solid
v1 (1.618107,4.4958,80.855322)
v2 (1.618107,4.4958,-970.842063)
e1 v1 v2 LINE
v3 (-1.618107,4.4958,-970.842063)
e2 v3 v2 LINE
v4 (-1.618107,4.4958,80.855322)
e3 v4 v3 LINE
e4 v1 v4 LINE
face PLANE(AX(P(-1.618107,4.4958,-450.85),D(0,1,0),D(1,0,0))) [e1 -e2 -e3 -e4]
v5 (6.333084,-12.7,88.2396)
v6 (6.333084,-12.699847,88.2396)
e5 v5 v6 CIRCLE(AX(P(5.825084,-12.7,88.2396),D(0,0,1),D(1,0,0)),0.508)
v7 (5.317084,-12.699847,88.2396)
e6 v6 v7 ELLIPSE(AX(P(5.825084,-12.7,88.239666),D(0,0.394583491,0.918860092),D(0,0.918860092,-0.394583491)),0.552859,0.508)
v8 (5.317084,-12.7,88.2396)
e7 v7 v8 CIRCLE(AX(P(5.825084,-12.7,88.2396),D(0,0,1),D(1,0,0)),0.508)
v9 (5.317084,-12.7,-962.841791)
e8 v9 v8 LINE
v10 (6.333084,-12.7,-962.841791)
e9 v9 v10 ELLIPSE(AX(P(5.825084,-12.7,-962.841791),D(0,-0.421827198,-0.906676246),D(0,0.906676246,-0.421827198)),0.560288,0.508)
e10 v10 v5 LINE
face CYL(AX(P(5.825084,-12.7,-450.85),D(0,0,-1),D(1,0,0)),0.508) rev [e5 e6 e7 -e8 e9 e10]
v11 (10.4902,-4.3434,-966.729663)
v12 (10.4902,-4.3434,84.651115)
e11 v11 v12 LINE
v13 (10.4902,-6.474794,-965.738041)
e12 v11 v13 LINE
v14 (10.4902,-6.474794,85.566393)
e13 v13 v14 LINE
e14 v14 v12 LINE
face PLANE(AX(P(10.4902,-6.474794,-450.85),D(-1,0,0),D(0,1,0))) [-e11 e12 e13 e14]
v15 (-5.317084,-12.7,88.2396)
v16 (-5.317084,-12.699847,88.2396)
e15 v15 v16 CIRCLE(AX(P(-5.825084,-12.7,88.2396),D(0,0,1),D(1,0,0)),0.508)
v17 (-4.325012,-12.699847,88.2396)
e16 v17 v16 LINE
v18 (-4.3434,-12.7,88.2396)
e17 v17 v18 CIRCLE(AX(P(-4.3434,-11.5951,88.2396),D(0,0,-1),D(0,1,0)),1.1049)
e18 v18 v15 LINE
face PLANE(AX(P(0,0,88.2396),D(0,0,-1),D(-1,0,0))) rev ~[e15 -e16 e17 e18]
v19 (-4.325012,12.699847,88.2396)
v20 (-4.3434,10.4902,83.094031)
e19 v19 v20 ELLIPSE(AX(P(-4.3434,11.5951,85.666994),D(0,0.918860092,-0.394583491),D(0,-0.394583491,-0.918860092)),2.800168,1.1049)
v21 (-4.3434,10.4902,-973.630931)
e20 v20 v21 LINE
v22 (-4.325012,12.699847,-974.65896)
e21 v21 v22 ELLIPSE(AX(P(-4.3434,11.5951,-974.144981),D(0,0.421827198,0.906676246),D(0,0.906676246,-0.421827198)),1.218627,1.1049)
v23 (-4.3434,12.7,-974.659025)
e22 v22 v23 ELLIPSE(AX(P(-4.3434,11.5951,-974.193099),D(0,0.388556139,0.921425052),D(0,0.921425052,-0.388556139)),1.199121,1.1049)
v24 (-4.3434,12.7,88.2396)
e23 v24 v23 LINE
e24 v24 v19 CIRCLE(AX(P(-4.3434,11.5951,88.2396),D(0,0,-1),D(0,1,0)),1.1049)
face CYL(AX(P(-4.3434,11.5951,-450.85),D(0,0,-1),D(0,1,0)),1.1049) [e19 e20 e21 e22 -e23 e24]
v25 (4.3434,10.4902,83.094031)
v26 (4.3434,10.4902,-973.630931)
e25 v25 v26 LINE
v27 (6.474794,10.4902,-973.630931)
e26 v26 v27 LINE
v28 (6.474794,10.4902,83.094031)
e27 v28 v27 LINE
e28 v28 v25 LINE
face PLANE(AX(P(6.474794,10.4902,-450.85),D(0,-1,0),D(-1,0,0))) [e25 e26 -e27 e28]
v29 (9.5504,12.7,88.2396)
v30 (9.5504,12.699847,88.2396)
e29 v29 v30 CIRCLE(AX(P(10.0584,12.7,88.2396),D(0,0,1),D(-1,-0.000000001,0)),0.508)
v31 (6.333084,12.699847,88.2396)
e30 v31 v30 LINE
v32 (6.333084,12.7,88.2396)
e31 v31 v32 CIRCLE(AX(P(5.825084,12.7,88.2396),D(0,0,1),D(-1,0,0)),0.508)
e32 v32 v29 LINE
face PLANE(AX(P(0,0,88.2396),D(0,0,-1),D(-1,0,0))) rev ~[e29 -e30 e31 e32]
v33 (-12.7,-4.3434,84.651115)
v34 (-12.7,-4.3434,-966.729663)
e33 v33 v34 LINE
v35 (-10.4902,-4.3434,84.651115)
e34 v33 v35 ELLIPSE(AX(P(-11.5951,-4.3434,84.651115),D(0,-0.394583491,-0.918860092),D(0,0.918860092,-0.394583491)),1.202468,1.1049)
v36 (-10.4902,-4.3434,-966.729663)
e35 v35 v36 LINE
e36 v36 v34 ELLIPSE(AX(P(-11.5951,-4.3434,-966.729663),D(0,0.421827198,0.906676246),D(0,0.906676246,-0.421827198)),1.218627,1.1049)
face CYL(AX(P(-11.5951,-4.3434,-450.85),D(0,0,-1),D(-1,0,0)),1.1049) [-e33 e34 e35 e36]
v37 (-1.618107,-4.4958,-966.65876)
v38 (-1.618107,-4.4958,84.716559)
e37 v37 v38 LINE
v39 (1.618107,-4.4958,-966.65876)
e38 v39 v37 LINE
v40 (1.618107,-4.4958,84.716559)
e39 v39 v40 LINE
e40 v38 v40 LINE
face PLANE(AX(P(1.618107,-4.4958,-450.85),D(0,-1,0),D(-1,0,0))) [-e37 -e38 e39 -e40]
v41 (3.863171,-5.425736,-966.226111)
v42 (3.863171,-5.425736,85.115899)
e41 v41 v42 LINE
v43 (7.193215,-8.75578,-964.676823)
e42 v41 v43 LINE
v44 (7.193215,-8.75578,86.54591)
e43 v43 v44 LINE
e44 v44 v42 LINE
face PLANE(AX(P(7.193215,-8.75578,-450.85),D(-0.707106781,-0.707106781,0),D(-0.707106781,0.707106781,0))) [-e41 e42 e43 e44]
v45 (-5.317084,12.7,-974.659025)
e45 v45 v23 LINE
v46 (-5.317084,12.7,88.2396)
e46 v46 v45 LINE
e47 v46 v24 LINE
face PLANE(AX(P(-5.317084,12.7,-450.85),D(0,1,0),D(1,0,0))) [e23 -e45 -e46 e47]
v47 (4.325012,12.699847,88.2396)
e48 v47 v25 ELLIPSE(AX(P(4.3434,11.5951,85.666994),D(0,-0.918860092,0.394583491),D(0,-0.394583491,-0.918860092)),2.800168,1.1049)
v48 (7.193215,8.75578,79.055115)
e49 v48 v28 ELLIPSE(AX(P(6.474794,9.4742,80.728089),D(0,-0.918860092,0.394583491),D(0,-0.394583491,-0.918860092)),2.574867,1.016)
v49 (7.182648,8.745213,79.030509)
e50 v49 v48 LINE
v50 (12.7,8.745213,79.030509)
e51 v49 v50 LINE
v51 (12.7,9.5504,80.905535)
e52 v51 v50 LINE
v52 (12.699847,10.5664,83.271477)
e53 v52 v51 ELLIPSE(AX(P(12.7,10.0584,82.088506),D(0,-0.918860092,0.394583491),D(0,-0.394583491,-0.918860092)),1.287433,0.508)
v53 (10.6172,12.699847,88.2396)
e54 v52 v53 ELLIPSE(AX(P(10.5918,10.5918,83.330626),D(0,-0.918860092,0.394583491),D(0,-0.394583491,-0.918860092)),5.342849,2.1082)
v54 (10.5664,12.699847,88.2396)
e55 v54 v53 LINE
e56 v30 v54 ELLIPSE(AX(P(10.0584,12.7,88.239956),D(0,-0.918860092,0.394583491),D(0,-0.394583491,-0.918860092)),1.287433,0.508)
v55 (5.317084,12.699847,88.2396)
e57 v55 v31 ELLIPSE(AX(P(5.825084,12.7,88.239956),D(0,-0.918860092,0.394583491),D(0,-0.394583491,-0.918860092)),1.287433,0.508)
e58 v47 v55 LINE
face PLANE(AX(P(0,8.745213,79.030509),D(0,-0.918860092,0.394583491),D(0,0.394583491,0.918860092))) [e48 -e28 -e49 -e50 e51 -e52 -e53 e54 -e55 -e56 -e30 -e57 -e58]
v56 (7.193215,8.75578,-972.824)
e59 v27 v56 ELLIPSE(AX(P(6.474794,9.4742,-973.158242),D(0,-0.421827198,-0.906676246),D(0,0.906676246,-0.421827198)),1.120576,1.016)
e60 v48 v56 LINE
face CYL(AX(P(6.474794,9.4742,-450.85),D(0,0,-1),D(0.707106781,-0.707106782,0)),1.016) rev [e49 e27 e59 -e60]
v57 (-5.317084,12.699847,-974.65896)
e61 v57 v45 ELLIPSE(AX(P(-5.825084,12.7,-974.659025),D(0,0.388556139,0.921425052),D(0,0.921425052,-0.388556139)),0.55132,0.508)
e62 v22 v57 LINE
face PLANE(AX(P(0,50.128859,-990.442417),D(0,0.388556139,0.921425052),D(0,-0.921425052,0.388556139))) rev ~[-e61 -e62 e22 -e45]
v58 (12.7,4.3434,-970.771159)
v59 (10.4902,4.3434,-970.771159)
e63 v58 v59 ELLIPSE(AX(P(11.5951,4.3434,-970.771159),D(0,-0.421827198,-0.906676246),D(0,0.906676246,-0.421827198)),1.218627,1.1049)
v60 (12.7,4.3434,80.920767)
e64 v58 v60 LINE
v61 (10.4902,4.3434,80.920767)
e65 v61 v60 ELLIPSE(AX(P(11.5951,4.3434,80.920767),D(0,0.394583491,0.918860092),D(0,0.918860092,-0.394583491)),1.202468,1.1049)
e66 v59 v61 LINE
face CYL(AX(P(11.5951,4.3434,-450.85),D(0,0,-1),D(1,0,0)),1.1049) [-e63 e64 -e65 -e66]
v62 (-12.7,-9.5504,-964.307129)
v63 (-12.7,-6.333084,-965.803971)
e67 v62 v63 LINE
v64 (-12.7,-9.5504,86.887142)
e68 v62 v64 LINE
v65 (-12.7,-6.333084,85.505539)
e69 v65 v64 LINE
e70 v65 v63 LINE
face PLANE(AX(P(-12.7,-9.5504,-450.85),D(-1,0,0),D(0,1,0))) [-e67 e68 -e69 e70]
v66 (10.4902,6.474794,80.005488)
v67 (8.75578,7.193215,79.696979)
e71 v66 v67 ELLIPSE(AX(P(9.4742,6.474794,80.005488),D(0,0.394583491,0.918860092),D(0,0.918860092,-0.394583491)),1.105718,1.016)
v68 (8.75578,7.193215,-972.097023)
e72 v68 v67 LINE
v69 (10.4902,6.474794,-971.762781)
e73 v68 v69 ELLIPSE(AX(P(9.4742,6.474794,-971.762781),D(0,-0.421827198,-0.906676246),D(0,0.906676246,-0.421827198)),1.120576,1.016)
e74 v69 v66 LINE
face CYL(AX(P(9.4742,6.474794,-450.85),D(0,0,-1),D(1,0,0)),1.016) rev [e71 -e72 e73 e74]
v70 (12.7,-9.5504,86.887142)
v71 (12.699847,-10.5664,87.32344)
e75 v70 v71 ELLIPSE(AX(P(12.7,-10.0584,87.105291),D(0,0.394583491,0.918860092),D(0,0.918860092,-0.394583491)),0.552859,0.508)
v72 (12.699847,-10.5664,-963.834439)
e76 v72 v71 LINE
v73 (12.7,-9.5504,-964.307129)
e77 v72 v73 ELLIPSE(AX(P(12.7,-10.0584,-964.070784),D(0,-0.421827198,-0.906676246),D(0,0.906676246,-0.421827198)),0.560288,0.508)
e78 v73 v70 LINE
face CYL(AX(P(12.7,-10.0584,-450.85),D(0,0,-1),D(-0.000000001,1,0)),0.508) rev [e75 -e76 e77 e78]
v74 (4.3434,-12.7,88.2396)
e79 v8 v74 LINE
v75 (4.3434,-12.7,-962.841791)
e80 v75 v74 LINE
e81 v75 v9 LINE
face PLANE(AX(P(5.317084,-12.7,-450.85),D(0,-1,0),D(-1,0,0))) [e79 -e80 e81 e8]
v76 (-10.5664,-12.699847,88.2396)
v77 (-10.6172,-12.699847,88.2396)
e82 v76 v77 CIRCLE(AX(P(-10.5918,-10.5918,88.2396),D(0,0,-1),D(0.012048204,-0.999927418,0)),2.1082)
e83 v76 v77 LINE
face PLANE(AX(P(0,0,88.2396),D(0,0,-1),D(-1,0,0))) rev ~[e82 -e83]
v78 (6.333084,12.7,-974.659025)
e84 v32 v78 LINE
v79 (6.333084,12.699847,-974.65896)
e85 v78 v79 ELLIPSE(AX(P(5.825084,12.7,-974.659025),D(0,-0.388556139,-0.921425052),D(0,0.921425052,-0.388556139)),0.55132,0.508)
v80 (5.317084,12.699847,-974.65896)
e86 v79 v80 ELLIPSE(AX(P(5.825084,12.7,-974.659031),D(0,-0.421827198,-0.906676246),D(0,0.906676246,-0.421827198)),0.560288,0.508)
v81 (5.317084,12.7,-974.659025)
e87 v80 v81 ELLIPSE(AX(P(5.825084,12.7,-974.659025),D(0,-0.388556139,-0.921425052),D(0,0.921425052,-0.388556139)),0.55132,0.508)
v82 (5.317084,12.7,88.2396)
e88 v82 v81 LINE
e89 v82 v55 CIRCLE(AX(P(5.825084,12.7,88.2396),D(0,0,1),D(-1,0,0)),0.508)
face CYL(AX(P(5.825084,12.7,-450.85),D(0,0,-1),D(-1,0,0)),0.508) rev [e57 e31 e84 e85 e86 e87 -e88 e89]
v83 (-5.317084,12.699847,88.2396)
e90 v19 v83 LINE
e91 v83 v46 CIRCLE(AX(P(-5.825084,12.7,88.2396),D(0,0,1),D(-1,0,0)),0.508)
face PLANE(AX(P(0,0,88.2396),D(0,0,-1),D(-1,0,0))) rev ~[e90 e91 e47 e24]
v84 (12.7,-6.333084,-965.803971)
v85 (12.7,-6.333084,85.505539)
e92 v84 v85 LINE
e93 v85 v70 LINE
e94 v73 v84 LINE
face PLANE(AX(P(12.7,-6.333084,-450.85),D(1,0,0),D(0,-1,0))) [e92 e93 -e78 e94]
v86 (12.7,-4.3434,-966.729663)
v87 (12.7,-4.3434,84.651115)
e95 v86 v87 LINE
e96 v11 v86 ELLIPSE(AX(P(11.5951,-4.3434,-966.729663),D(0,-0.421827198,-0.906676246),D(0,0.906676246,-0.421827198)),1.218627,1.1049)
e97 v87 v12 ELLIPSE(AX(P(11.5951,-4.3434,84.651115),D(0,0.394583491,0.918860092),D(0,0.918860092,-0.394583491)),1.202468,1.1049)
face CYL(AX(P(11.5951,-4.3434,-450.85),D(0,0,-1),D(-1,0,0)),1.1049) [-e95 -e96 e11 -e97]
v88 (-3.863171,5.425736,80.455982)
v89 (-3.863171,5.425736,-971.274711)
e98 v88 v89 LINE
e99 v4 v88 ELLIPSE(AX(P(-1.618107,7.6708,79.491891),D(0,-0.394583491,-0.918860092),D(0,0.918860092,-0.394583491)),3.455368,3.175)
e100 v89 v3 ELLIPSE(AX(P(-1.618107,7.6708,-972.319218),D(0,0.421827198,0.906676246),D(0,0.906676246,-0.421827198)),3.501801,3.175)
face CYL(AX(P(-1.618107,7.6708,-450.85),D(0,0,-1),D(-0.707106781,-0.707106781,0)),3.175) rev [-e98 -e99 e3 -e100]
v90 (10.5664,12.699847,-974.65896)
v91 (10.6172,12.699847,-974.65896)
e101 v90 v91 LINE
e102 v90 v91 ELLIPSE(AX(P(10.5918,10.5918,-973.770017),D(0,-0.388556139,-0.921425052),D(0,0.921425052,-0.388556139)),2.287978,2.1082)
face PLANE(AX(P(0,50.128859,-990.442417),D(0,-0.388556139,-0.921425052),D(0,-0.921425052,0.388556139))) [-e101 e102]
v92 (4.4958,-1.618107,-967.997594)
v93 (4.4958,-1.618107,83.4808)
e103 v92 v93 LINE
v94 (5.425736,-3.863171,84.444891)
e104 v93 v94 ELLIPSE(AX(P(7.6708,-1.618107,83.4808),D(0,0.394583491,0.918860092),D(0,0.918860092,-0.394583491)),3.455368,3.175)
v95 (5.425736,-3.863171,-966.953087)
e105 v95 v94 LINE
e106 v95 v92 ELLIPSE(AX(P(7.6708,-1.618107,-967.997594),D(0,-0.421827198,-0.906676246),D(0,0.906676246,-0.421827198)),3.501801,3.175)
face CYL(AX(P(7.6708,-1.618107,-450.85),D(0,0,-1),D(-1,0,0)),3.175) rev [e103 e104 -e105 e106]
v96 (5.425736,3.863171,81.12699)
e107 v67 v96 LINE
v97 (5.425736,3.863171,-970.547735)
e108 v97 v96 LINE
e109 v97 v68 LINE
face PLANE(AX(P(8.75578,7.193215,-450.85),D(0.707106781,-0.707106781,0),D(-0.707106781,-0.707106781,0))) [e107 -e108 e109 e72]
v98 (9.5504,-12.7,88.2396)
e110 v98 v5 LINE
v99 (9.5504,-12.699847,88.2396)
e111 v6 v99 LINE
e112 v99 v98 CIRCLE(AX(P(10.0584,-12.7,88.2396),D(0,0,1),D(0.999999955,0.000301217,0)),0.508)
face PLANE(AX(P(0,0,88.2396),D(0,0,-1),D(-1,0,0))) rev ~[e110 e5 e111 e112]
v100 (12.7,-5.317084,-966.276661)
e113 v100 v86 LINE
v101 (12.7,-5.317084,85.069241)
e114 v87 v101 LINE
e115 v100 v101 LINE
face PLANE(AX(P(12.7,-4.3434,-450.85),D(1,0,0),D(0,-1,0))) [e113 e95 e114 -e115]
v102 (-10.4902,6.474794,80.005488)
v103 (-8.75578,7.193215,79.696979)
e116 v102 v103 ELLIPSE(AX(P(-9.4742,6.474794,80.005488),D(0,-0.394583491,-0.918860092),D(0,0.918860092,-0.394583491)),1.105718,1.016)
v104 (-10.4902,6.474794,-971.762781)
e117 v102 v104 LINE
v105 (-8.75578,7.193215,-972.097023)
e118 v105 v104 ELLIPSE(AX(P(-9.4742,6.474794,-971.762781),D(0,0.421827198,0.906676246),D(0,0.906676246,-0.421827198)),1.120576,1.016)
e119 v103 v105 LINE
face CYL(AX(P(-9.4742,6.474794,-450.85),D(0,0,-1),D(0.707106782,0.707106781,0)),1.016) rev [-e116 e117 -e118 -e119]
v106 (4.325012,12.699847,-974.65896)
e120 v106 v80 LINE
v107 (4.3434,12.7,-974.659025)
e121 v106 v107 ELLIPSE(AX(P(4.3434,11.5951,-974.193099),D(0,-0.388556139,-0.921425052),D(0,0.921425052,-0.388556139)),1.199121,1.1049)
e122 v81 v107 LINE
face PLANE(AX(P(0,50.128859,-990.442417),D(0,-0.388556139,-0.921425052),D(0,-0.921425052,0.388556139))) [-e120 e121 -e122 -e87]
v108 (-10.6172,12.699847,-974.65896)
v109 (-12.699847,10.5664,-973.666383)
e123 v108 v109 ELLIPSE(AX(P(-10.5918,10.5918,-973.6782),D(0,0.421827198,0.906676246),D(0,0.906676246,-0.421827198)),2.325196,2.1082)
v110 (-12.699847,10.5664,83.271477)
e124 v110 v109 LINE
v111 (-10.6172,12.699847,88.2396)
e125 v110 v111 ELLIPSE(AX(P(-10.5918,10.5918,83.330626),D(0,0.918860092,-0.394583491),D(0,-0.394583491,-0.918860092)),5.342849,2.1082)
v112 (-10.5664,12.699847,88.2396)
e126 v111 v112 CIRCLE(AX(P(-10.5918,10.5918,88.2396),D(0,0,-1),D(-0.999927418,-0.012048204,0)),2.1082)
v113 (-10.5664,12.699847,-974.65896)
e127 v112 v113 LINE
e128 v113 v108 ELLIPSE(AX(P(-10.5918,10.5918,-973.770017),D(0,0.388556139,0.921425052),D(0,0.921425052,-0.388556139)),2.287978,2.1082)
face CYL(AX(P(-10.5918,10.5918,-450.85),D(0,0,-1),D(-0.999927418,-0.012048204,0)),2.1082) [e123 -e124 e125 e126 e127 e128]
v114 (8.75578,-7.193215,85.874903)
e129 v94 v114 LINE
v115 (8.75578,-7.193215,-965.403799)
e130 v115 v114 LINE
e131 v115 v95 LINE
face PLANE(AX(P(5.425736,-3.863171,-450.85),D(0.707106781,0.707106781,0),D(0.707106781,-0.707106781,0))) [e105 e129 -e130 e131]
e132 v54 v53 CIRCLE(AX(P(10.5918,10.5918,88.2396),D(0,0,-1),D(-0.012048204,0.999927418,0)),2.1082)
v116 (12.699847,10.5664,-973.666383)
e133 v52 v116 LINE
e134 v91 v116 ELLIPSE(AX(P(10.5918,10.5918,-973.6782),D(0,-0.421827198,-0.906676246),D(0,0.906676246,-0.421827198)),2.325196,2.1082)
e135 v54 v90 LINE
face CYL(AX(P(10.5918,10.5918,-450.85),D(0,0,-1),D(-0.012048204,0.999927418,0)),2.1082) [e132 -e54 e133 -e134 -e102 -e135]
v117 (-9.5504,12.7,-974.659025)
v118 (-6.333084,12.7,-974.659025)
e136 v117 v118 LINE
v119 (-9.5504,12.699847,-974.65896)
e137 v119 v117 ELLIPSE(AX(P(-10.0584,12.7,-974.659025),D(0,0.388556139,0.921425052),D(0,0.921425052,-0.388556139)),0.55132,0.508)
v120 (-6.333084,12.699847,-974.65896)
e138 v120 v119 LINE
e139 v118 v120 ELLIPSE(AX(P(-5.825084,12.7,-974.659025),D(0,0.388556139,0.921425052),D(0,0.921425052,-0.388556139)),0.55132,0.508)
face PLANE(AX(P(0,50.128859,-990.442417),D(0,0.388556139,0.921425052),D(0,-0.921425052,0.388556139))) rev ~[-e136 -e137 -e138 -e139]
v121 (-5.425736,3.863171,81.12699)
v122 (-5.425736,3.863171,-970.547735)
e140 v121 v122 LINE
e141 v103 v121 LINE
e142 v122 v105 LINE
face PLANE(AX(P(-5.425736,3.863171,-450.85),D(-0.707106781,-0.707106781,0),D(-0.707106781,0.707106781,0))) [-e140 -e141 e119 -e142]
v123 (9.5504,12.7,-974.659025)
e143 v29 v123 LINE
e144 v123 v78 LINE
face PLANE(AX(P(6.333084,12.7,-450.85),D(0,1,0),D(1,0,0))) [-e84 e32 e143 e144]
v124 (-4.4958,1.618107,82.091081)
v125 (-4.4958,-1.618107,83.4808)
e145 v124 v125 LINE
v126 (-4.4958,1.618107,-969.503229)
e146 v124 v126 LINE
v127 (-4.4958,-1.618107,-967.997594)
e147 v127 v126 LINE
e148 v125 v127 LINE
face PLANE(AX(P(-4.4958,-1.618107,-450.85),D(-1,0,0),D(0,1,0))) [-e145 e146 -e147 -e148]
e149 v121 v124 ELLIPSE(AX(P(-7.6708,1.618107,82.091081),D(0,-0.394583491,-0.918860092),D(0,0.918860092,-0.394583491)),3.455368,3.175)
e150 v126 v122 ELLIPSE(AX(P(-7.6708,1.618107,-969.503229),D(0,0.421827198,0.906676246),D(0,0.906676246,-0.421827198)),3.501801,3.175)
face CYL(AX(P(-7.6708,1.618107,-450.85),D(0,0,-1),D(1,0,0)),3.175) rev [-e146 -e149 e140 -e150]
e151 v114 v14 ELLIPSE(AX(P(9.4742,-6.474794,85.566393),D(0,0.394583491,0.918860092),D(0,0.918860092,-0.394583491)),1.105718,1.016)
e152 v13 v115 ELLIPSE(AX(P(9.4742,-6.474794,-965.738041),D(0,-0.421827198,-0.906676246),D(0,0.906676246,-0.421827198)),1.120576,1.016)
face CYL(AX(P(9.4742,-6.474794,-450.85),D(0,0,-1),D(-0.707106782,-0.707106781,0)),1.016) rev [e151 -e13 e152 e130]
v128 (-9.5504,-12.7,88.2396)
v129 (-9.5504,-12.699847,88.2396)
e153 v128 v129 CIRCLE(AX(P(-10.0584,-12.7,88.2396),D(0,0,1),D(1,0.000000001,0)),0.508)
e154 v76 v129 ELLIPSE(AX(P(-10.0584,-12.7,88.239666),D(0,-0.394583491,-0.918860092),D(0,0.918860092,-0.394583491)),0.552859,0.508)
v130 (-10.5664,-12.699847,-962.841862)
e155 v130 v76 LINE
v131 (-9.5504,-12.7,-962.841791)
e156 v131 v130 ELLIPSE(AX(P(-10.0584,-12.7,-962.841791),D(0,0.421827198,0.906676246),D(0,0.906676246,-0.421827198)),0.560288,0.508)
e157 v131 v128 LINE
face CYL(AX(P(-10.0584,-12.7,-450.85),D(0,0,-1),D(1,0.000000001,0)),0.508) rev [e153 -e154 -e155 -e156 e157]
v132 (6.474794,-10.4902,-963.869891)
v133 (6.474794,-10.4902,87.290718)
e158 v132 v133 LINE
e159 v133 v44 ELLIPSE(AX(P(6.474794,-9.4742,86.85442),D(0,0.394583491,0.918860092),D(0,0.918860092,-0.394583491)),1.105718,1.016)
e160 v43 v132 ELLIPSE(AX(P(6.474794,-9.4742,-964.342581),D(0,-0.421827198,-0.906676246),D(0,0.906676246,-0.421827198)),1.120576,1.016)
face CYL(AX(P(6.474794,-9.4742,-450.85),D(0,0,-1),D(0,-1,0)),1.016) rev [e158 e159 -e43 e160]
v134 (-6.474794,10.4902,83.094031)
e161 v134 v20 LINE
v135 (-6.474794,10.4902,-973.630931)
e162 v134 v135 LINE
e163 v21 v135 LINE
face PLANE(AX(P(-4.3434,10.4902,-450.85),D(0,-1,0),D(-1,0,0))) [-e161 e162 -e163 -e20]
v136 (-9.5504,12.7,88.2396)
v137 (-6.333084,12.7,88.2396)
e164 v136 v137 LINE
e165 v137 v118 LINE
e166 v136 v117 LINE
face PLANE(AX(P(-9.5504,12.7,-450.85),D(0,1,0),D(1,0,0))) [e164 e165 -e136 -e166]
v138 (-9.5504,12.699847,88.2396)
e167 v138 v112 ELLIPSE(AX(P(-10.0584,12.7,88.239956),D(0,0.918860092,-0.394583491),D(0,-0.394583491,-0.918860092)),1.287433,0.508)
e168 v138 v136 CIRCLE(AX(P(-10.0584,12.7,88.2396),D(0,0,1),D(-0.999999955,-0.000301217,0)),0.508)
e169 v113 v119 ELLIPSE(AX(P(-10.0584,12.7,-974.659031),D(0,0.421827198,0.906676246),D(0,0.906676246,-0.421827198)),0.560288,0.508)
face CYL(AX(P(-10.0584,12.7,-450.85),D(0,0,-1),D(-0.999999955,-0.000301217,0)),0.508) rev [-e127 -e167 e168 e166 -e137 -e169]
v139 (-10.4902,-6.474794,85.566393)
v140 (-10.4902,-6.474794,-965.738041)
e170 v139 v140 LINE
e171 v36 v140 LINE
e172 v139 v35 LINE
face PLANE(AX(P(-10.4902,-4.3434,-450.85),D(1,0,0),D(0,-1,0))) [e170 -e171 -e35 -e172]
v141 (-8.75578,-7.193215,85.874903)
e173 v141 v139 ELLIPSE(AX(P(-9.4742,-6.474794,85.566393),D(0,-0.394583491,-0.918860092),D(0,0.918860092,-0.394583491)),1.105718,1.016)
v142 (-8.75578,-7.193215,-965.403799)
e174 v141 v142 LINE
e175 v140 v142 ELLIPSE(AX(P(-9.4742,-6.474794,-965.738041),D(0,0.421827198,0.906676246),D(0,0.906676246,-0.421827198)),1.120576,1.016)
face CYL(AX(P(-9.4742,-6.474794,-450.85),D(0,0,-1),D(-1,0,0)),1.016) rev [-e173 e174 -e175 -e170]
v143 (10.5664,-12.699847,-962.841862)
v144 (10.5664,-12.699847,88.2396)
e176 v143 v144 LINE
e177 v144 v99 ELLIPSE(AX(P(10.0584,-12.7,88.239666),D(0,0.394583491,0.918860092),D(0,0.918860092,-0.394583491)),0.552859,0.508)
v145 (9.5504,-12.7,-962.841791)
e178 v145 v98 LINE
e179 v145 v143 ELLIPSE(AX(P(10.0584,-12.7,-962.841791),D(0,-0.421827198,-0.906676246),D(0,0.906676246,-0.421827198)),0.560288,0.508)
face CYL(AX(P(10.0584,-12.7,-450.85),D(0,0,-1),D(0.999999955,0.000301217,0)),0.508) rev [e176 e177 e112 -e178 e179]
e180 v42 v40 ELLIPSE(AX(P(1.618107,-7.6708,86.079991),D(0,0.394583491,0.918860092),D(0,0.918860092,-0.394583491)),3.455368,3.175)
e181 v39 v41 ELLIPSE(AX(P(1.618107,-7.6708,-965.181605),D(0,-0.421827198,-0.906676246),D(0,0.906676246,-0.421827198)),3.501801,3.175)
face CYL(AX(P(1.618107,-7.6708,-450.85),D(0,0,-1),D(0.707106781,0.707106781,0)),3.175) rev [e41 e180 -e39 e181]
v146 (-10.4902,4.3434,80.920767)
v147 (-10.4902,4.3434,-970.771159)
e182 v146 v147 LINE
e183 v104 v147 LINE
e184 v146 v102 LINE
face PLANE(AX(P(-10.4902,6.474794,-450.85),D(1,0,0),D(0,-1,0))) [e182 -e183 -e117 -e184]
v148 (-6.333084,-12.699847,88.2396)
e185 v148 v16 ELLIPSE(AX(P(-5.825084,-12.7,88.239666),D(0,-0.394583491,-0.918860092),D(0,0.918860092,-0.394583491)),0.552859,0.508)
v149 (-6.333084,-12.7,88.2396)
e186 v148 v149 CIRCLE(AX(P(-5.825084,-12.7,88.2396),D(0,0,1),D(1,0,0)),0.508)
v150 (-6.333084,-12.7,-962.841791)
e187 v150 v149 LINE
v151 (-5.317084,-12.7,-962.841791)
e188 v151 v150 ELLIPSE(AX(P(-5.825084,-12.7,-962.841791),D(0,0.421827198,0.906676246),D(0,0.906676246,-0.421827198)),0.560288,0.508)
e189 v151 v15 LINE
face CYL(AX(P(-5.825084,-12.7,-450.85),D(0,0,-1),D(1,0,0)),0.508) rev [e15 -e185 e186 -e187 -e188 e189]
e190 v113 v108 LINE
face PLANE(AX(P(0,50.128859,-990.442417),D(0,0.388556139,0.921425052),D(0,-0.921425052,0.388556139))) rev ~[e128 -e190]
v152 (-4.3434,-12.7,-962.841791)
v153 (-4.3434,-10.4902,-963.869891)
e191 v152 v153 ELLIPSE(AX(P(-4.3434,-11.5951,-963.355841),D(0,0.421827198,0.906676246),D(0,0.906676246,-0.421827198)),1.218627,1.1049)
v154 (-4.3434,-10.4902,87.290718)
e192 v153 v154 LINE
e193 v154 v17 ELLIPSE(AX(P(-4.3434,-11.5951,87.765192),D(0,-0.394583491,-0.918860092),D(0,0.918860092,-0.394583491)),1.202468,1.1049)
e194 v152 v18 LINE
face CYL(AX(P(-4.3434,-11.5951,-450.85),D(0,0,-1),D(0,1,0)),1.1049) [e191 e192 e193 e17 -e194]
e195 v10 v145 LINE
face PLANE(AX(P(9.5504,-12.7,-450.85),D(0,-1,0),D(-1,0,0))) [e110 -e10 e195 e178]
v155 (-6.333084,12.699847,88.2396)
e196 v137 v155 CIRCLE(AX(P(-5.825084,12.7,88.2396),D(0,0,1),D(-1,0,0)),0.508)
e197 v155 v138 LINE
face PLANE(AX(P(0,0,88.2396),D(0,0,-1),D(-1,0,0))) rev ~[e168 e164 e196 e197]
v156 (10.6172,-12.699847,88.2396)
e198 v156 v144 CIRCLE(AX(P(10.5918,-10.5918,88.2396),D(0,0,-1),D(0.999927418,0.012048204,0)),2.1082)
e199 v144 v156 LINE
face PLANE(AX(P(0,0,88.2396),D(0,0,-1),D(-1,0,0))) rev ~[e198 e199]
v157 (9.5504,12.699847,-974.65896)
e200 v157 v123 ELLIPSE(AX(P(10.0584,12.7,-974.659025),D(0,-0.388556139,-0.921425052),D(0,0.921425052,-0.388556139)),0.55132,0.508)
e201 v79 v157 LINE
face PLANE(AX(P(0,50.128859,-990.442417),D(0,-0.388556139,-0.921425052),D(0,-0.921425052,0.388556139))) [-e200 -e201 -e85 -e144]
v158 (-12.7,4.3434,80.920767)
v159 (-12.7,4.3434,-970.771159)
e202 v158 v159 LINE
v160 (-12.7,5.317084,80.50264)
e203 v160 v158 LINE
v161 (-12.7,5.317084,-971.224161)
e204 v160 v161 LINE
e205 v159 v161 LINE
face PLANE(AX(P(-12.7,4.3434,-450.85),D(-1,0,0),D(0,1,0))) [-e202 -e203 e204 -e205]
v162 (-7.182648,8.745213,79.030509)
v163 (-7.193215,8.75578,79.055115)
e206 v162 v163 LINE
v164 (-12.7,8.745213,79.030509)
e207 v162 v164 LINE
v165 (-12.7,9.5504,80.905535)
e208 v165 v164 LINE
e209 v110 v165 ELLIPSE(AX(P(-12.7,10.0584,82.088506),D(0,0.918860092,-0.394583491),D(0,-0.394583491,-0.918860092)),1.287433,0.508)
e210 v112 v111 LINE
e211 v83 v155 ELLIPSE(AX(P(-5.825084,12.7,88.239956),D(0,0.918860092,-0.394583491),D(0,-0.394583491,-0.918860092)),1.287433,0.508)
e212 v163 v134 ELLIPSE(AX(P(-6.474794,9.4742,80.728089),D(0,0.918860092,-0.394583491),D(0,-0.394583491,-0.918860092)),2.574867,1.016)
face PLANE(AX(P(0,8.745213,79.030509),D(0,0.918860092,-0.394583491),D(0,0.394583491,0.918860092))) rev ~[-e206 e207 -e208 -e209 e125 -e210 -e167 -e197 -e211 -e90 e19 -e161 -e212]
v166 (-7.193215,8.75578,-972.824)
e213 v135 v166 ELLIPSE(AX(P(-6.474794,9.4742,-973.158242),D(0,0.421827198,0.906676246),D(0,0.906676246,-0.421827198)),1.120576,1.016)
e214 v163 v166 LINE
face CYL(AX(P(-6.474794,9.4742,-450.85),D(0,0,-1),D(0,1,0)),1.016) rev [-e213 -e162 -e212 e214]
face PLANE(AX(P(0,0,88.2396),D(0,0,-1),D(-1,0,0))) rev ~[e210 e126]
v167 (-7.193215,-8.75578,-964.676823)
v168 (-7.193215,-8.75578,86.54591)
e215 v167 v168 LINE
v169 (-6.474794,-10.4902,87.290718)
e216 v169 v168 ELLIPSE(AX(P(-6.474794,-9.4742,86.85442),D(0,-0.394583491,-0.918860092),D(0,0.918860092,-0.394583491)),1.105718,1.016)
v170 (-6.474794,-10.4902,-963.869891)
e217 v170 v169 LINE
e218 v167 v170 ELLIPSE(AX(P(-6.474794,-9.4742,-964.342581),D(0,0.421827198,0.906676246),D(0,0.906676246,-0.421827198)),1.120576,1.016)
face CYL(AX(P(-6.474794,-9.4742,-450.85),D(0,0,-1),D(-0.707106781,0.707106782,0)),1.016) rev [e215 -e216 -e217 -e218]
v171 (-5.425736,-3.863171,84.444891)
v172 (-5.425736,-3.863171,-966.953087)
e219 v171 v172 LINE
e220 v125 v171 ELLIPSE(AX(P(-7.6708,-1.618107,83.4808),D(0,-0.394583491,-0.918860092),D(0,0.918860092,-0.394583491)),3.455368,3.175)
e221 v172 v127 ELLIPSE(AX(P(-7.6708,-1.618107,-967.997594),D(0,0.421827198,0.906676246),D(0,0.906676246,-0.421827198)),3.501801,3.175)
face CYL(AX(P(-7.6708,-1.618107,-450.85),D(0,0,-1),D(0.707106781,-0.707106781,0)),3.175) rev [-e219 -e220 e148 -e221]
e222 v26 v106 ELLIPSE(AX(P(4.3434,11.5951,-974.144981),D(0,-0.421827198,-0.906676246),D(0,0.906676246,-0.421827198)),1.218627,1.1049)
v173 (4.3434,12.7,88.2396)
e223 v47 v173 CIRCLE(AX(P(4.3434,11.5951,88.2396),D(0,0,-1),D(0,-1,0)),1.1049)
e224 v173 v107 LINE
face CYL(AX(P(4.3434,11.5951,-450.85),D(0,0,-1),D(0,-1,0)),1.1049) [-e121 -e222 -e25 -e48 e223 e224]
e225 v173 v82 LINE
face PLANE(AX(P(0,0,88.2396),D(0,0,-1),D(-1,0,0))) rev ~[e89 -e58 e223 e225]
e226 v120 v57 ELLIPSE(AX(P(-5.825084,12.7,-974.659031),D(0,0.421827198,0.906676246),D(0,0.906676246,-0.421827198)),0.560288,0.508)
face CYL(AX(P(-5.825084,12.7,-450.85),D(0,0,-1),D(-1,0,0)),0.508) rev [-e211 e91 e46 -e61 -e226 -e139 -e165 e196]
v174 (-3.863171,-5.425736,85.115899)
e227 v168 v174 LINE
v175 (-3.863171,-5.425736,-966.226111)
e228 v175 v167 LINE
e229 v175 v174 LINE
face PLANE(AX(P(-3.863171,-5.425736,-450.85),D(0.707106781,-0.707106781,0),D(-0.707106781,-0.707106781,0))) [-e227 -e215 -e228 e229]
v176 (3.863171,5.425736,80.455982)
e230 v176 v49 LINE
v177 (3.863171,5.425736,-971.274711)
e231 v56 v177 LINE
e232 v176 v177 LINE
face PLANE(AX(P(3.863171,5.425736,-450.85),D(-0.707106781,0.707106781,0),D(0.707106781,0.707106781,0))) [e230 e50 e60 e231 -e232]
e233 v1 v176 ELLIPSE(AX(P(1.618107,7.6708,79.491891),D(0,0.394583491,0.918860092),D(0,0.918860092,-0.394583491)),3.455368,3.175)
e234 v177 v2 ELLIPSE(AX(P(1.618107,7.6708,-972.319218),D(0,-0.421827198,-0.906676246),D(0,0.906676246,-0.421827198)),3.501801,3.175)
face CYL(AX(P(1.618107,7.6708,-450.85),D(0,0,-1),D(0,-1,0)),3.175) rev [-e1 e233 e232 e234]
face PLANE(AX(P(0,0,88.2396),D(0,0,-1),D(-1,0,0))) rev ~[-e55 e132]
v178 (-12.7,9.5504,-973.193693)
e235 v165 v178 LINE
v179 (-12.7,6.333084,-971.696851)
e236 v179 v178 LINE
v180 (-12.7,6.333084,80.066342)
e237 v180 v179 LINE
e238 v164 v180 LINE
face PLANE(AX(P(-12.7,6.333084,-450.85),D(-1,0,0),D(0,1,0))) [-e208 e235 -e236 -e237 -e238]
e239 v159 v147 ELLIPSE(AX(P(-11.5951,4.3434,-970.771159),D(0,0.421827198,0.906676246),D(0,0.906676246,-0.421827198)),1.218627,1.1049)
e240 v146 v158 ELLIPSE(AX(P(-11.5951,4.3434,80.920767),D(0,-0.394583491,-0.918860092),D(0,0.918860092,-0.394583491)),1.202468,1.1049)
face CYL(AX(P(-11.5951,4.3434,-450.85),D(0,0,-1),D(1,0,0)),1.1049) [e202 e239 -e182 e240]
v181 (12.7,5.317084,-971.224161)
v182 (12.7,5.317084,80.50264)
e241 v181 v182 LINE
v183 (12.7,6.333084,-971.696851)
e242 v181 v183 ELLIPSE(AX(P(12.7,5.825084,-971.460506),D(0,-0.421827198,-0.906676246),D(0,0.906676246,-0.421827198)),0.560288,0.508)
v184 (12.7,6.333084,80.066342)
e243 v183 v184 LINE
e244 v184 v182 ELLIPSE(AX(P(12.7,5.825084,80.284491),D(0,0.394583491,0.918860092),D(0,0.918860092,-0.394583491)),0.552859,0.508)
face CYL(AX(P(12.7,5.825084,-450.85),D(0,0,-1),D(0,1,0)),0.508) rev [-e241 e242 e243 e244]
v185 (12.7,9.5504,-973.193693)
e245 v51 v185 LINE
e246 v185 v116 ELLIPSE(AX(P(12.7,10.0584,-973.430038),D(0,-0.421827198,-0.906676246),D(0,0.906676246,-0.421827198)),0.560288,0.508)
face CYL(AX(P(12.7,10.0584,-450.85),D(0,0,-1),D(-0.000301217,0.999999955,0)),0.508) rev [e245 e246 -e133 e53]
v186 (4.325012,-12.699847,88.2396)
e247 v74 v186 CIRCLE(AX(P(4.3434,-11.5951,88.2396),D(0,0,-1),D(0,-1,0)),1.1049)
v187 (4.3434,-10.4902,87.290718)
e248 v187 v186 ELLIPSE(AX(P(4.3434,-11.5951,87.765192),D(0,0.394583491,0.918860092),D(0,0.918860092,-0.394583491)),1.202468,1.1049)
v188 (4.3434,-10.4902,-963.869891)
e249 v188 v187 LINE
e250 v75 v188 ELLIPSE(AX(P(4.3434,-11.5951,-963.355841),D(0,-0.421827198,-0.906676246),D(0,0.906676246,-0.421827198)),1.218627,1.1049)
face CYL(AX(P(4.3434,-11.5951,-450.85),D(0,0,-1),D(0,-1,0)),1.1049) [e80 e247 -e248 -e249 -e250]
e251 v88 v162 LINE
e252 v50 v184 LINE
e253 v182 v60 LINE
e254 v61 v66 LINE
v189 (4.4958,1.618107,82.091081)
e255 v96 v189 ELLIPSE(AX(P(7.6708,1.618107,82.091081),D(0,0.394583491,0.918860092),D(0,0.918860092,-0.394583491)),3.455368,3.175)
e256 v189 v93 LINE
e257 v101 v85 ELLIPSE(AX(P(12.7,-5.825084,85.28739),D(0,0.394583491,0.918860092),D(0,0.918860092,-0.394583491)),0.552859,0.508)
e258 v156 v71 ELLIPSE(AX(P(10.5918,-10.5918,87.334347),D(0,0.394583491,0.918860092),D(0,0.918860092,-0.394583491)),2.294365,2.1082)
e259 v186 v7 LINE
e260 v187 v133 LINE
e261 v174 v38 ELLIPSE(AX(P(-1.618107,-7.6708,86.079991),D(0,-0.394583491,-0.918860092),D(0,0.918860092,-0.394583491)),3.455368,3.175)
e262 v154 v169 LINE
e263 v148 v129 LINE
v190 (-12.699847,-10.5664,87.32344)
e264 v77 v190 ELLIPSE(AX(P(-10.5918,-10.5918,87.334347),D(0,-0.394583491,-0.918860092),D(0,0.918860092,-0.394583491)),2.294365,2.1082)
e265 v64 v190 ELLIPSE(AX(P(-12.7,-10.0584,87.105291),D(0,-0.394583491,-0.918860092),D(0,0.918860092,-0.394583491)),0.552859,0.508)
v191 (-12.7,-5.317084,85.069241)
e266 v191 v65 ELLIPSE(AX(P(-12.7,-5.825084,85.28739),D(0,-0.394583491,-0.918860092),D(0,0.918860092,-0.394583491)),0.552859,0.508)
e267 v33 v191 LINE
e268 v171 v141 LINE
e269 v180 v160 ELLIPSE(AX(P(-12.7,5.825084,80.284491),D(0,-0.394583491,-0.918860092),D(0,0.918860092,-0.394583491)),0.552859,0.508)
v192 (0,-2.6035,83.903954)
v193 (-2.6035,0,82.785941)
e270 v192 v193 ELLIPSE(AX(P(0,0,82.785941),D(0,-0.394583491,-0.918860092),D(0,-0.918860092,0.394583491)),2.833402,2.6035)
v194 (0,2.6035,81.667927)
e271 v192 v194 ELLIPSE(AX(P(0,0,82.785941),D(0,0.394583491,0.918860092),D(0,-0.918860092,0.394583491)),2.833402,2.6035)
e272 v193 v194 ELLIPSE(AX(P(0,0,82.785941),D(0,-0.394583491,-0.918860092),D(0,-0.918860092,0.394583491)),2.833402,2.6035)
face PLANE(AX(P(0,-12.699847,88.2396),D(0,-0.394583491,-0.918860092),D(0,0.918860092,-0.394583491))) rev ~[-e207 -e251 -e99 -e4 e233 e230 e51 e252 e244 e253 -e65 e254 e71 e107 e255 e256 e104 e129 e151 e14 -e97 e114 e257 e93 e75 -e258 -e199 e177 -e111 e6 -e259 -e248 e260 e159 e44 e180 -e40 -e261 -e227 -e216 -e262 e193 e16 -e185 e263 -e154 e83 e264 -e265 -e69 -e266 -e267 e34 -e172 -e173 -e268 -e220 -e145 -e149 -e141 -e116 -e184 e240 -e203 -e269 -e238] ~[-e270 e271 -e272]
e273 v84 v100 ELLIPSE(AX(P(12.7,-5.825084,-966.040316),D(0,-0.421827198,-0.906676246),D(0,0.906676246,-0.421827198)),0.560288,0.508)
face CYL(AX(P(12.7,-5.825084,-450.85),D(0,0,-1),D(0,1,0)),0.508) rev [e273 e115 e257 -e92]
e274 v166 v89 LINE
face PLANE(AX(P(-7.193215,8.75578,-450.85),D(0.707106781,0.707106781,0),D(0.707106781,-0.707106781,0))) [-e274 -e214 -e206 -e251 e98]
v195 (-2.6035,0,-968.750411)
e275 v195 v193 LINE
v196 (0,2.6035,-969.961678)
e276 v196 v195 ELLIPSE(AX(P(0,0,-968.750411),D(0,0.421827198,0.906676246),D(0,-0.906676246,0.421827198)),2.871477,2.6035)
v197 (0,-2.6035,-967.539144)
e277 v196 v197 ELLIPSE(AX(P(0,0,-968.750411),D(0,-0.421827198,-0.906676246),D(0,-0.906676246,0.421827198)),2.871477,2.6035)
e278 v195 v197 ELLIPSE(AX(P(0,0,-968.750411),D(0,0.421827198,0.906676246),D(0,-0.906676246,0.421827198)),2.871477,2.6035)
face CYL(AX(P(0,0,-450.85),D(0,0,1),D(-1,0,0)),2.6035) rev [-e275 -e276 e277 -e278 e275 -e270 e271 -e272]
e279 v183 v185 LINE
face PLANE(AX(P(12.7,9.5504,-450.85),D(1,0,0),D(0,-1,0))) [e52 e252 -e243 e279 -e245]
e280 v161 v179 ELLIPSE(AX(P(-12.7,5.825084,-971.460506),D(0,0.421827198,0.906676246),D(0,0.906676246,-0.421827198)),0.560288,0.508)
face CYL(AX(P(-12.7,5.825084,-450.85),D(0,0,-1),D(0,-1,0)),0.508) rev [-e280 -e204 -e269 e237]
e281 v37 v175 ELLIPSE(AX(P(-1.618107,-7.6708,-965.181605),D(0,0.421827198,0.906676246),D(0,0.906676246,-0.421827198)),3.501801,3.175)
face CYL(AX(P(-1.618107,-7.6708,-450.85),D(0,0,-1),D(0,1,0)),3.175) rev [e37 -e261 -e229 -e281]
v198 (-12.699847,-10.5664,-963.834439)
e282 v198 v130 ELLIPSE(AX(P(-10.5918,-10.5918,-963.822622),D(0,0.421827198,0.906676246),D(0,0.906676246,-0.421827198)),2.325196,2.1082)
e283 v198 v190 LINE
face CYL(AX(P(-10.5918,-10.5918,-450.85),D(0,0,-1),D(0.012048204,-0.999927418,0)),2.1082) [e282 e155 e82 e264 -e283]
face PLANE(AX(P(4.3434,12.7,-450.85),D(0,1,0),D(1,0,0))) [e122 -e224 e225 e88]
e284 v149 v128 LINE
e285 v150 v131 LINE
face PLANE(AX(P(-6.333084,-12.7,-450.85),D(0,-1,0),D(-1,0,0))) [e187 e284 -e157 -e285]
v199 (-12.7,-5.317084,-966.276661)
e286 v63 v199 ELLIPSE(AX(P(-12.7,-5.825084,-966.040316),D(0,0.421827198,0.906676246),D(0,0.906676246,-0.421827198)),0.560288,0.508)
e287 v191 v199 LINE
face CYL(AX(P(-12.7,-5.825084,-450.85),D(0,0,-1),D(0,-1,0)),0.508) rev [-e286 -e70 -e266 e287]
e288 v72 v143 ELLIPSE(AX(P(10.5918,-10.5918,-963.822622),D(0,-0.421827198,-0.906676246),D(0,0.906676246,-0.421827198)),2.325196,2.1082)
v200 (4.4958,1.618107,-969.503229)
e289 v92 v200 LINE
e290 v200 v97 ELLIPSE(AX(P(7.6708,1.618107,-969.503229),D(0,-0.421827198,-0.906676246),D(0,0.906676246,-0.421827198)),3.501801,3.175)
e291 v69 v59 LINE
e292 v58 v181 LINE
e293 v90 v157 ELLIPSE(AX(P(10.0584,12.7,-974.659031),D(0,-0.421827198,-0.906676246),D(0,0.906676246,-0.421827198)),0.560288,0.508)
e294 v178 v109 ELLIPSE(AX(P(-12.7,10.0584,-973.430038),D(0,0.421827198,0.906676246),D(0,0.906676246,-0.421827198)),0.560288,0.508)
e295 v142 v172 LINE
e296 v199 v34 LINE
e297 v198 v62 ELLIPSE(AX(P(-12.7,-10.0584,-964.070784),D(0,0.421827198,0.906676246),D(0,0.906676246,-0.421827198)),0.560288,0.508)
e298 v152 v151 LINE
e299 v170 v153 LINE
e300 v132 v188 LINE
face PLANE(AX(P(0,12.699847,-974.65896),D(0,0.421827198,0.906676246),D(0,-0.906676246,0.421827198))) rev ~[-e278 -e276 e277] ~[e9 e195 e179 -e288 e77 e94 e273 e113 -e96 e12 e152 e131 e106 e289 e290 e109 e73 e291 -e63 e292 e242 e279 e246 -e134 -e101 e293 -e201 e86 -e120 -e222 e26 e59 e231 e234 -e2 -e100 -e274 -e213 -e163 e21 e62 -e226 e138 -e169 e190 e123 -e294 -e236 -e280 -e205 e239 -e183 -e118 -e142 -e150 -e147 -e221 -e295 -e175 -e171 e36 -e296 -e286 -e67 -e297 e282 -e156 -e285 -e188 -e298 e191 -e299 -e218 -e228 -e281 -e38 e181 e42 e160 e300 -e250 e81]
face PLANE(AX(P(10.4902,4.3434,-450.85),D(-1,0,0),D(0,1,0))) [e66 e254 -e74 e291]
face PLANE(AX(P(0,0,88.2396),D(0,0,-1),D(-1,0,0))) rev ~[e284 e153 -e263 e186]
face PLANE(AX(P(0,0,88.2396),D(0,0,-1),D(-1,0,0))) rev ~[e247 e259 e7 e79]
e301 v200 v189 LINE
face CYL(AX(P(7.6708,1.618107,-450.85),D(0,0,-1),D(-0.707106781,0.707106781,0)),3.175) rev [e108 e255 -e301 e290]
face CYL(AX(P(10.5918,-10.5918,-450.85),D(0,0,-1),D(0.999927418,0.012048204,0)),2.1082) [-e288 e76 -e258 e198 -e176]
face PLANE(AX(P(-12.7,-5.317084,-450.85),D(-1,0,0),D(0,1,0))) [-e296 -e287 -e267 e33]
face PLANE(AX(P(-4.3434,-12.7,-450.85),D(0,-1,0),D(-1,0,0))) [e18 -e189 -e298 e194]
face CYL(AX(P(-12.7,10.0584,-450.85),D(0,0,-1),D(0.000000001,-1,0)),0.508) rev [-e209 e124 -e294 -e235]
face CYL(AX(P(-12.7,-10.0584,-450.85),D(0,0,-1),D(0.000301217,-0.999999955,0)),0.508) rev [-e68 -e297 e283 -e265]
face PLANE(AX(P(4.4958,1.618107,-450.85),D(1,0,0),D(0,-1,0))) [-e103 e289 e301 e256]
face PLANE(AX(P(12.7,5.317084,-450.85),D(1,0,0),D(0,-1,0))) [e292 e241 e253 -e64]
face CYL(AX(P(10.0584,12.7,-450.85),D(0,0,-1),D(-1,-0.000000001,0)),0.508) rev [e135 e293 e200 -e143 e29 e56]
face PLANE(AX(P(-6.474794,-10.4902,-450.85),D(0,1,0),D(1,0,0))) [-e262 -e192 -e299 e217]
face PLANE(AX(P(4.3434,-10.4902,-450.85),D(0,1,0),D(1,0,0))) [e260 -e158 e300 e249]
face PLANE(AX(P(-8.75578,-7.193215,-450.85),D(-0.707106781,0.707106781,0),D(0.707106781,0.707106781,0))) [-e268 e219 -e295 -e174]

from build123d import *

# Parameters (mm, degrees)
SKETCH1_R               = 2.6035
BOSS_EXTRUDE1_DEPTH     = 539.0896
CUT_EXTRUDE2_DEPTH      = 13.7
CUT_EXTRUDE2_DEPTH_BACK = 13.7


with BuildPart() as part:
    # Sketch1 → Boss-Extrude1 (new body, symmetric)
    with BuildSketch(Plane(origin=(0, 0, -450.85), x_dir=(-1, 0, 0), z_dir=(0, 0, -1))):
        with BuildLine():
            Line((12.7, -9.5504), (12.7, -6.3330836))
            ThreePointArc((12.7, -6.3330836), (12.192, -5.8250836), (12.7, -5.3170836))
            Line((12.7, -5.3170836), (12.7, -4.3434))
            ThreePointArc((12.7, -4.3434), (11.5951, -3.2385), (10.4902, -4.3434))
            Line((10.4902, -4.3434), (10.4902, -6.474794456))
            ThreePointArc((10.4902, -6.474794456), (9.863006367, -7.413456061), (8.75577951, -7.193214945))
            Line((8.75577951, -7.193214945), (5.42573597, -3.863171405))
            ThreePointArc((5.42573597, -3.863171405), (4.737482484, -2.833127272), (4.4958, -1.618107374))
            Line((4.4958, -1.618107374), (4.4958, 1.618107374))
            ThreePointArc((4.4958, 1.618107374), (4.737482484, 2.833127272), (5.42573597, 3.863171405))
            Line((5.42573597, 3.863171405), (8.75577951, 7.193214945))
            ThreePointArc((8.75577951, 7.193214945), (9.863006367, 7.413456061), (10.4902, 6.474794456))
            Line((10.4902, 6.474794456), (10.4902, 4.343399971))
            ThreePointArc((10.4902, 4.343399971), (11.5951, 3.238499971), (12.7, 4.343399971))
            Line((12.7, 4.343399971), (12.7, 5.3170836))
            ThreePointArc((12.7, 5.3170836), (12.192, 5.8250836), (12.7, 6.3330836))
            Line((12.7, 6.3330836), (12.7, 9.5504))
            ThreePointArc((12.7, 9.5504), (12.192000006, 10.058323491), (12.699846982, 10.566399977))
            ThreePointArc((12.699846982, 10.566399977), (12.082522516, 12.082522516), (10.566399977, 12.699846982))
            ThreePointArc((10.566399977, 12.699846982), (10.058323491, 12.192000006), (9.5504, 12.7))
            Line((9.5504, 12.7), (6.3330836, 12.7))
            ThreePointArc((6.3330836, 12.7), (5.8250836, 12.192), (5.3170836, 12.7))
            Line((5.3170836, 12.7), (4.3434, 12.7))
            ThreePointArc((4.3434, 12.7), (3.2385, 11.5951), (4.3434, 10.4902))
            Line((4.3434, 10.4902), (6.474794456, 10.4902))
            ThreePointArc((6.474794456, 10.4902), (7.413456061, 9.863006367), (7.193214945, 8.75577951))
            Line((7.193214945, 8.75577951), (3.863171405, 5.42573597))
            ThreePointArc((3.863171405, 5.42573597), (2.833127272, 4.737482484), (1.618107374, 4.4958))
            Line((1.618107374, 4.4958), (-1.618107374, 4.4958))
            ThreePointArc((-1.618107374, 4.4958), (-2.833127272, 4.737482484), (-3.863171405, 5.42573597))
            Line((-3.863171405, 5.42573597), (-7.193214945, 8.75577951))
            ThreePointArc((-7.193214945, 8.75577951), (-7.413456061, 9.863006367), (-6.474794456, 10.4902))
            Line((-6.474794456, 10.4902), (-4.343399971, 10.4902))
            ThreePointArc((-4.343399971, 10.4902), (-3.238499971, 11.5951), (-4.343399971, 12.7))
            Line((-4.343399971, 12.7), (-5.3170836, 12.7))
            ThreePointArc((-5.3170836, 12.7), (-5.8250836, 12.192), (-6.3330836, 12.7))
            Line((-6.3330836, 12.7), (-9.5504, 12.7))
            ThreePointArc((-9.5504, 12.7), (-10.058323491, 12.192000006), (-10.566399977, 12.699846982))
            ThreePointArc((-10.566399977, 12.699846982), (-12.082522516, 12.082522516), (-12.699846982, 10.566399977))
            ThreePointArc((-12.699846982, 10.566399977), (-12.192000006, 10.058323491), (-12.7, 9.5504))
            Line((-12.7, 9.5504), (-12.7, 6.3330836))
            ThreePointArc((-12.7, 6.3330836), (-12.192, 5.8250836), (-12.7, 5.3170836))
            Line((-12.7, 5.3170836), (-12.7, 4.3434))
            ThreePointArc((-12.7, 4.3434), (-11.5951, 3.2385), (-10.4902, 4.3434))
            Line((-10.4902, 4.3434), (-10.4902, 6.474794456))
            ThreePointArc((-10.4902, 6.474794456), (-9.863006367, 7.413456061), (-8.75577951, 7.193214945))
            Line((-8.75577951, 7.193214945), (-5.42573597, 3.863171405))
            ThreePointArc((-5.42573597, 3.863171405), (-4.737482484, 2.833127272), (-4.4958, 1.618107374))
            Line((-4.4958, 1.618107374), (-4.4958, -1.618107374))
            ThreePointArc((-4.4958, -1.618107374), (-4.737482484, -2.833127272), (-5.42573597, -3.863171405))
            Line((-5.42573597, -3.863171405), (-8.75577951, -7.193214945))
            ThreePointArc((-8.75577951, -7.193214945), (-9.863006367, -7.413456061), (-10.4902, -6.474794456))
            Line((-10.4902, -6.474794456), (-10.4902, -4.343399971))
            ThreePointArc((-10.4902, -4.343399971), (-11.5951, -3.238499971), (-12.7, -4.343399971))
            Line((-12.7, -4.343399971), (-12.7, -5.3170836))
            ThreePointArc((-12.7, -5.3170836), (-12.192, -5.8250836), (-12.7, -6.3330836))
            Line((-12.7, -6.3330836), (-12.7, -9.5504))
            ThreePointArc((-12.7, -9.5504), (-12.192000006, -10.058323491), (-12.699846982, -10.566399977))
            ThreePointArc((-12.699846982, -10.566399977), (-12.082522516, -12.082522516), (-10.566399977, -12.699846982))
            ThreePointArc((-10.566399977, -12.699846982), (-10.058323491, -12.192000006), (-9.5504, -12.7))
            Line((-9.5504, -12.7), (-6.3330836, -12.7))
            ThreePointArc((-6.3330836, -12.7), (-5.8250836, -12.192), (-5.3170836, -12.7))
            Line((-5.3170836, -12.7), (-4.3434, -12.7))
            ThreePointArc((-4.3434, -12.7), (-3.2385, -11.5951), (-4.3434, -10.4902))
            Line((-4.3434, -10.4902), (-6.474794456, -10.4902))
            ThreePointArc((-6.474794456, -10.4902), (-7.413456061, -9.863006367), (-7.193214945, -8.75577951))
            Line((-7.193214945, -8.75577951), (-3.863171405, -5.42573597))
            ThreePointArc((-3.863171405, -5.42573597), (-2.833127272, -4.737482484), (-1.618107374, -4.4958))
            Line((-1.618107374, -4.4958), (1.618107374, -4.4958))
            ThreePointArc((1.618107374, -4.4958), (2.833127272, -4.737482484), (3.863171405, -5.42573597))
            Line((3.863171405, -5.42573597), (7.193214945, -8.75577951))
            ThreePointArc((7.193214945, -8.75577951), (7.413456061, -9.863006367), (6.474794456, -10.4902))
            Line((6.474794456, -10.4902), (4.343399971, -10.4902))
            ThreePointArc((4.343399971, -10.4902), (3.238499971, -11.5951), (4.343399971, -12.7))
            Line((4.343399971, -12.7), (5.3170836, -12.7))
            ThreePointArc((5.3170836, -12.7), (5.8250836, -12.192), (6.3330836, -12.7))
            Line((6.3330836, -12.7), (9.5504, -12.7))
            ThreePointArc((9.5504, -12.7), (10.058323491, -12.192000006), (10.566399977, -12.699846982))
            ThreePointArc((10.566399977, -12.699846982), (12.082522516, -12.082522516), (12.699846982, -10.566399977))
            ThreePointArc((12.699846982, -10.566399977), (12.192000006, -10.058323491), (12.7, -9.5504))
        make_face()
        Circle(SKETCH1_R, mode=Mode.SUBTRACT)
    extrude(amount=BOSS_EXTRUDE1_DEPTH, both=True)

    # Sketch2 → Cut-Extrude2 (cut, two sides)
    with BuildSketch(Plane(origin=(0, 0, 0), x_dir=(0, 0, -1), z_dir=(1, 0, 0))) as cut_extrude2_sk:
        Polygon((-79.030508577, 8.745212893), (-88.2396, 12.699846982), (-101.048292807, 21.699279404), (-97.311113584, -6.062623399), (-88.2396, -12.699846982), align=None)
        Polygon((990.442416852, 50.12885935), (974.65896, 12.699846982), (952.537969595, -34.847055216), (990.442416852, -34.847055216), align=None)
    extrude(amount=CUT_EXTRUDE2_DEPTH, mode=Mode.SUBTRACT)
    extrude(cut_extrude2_sk.sketch, amount=-CUT_EXTRUDE2_DEPTH_BACK, mode=Mode.SUBTRACT)


solid = part.part
